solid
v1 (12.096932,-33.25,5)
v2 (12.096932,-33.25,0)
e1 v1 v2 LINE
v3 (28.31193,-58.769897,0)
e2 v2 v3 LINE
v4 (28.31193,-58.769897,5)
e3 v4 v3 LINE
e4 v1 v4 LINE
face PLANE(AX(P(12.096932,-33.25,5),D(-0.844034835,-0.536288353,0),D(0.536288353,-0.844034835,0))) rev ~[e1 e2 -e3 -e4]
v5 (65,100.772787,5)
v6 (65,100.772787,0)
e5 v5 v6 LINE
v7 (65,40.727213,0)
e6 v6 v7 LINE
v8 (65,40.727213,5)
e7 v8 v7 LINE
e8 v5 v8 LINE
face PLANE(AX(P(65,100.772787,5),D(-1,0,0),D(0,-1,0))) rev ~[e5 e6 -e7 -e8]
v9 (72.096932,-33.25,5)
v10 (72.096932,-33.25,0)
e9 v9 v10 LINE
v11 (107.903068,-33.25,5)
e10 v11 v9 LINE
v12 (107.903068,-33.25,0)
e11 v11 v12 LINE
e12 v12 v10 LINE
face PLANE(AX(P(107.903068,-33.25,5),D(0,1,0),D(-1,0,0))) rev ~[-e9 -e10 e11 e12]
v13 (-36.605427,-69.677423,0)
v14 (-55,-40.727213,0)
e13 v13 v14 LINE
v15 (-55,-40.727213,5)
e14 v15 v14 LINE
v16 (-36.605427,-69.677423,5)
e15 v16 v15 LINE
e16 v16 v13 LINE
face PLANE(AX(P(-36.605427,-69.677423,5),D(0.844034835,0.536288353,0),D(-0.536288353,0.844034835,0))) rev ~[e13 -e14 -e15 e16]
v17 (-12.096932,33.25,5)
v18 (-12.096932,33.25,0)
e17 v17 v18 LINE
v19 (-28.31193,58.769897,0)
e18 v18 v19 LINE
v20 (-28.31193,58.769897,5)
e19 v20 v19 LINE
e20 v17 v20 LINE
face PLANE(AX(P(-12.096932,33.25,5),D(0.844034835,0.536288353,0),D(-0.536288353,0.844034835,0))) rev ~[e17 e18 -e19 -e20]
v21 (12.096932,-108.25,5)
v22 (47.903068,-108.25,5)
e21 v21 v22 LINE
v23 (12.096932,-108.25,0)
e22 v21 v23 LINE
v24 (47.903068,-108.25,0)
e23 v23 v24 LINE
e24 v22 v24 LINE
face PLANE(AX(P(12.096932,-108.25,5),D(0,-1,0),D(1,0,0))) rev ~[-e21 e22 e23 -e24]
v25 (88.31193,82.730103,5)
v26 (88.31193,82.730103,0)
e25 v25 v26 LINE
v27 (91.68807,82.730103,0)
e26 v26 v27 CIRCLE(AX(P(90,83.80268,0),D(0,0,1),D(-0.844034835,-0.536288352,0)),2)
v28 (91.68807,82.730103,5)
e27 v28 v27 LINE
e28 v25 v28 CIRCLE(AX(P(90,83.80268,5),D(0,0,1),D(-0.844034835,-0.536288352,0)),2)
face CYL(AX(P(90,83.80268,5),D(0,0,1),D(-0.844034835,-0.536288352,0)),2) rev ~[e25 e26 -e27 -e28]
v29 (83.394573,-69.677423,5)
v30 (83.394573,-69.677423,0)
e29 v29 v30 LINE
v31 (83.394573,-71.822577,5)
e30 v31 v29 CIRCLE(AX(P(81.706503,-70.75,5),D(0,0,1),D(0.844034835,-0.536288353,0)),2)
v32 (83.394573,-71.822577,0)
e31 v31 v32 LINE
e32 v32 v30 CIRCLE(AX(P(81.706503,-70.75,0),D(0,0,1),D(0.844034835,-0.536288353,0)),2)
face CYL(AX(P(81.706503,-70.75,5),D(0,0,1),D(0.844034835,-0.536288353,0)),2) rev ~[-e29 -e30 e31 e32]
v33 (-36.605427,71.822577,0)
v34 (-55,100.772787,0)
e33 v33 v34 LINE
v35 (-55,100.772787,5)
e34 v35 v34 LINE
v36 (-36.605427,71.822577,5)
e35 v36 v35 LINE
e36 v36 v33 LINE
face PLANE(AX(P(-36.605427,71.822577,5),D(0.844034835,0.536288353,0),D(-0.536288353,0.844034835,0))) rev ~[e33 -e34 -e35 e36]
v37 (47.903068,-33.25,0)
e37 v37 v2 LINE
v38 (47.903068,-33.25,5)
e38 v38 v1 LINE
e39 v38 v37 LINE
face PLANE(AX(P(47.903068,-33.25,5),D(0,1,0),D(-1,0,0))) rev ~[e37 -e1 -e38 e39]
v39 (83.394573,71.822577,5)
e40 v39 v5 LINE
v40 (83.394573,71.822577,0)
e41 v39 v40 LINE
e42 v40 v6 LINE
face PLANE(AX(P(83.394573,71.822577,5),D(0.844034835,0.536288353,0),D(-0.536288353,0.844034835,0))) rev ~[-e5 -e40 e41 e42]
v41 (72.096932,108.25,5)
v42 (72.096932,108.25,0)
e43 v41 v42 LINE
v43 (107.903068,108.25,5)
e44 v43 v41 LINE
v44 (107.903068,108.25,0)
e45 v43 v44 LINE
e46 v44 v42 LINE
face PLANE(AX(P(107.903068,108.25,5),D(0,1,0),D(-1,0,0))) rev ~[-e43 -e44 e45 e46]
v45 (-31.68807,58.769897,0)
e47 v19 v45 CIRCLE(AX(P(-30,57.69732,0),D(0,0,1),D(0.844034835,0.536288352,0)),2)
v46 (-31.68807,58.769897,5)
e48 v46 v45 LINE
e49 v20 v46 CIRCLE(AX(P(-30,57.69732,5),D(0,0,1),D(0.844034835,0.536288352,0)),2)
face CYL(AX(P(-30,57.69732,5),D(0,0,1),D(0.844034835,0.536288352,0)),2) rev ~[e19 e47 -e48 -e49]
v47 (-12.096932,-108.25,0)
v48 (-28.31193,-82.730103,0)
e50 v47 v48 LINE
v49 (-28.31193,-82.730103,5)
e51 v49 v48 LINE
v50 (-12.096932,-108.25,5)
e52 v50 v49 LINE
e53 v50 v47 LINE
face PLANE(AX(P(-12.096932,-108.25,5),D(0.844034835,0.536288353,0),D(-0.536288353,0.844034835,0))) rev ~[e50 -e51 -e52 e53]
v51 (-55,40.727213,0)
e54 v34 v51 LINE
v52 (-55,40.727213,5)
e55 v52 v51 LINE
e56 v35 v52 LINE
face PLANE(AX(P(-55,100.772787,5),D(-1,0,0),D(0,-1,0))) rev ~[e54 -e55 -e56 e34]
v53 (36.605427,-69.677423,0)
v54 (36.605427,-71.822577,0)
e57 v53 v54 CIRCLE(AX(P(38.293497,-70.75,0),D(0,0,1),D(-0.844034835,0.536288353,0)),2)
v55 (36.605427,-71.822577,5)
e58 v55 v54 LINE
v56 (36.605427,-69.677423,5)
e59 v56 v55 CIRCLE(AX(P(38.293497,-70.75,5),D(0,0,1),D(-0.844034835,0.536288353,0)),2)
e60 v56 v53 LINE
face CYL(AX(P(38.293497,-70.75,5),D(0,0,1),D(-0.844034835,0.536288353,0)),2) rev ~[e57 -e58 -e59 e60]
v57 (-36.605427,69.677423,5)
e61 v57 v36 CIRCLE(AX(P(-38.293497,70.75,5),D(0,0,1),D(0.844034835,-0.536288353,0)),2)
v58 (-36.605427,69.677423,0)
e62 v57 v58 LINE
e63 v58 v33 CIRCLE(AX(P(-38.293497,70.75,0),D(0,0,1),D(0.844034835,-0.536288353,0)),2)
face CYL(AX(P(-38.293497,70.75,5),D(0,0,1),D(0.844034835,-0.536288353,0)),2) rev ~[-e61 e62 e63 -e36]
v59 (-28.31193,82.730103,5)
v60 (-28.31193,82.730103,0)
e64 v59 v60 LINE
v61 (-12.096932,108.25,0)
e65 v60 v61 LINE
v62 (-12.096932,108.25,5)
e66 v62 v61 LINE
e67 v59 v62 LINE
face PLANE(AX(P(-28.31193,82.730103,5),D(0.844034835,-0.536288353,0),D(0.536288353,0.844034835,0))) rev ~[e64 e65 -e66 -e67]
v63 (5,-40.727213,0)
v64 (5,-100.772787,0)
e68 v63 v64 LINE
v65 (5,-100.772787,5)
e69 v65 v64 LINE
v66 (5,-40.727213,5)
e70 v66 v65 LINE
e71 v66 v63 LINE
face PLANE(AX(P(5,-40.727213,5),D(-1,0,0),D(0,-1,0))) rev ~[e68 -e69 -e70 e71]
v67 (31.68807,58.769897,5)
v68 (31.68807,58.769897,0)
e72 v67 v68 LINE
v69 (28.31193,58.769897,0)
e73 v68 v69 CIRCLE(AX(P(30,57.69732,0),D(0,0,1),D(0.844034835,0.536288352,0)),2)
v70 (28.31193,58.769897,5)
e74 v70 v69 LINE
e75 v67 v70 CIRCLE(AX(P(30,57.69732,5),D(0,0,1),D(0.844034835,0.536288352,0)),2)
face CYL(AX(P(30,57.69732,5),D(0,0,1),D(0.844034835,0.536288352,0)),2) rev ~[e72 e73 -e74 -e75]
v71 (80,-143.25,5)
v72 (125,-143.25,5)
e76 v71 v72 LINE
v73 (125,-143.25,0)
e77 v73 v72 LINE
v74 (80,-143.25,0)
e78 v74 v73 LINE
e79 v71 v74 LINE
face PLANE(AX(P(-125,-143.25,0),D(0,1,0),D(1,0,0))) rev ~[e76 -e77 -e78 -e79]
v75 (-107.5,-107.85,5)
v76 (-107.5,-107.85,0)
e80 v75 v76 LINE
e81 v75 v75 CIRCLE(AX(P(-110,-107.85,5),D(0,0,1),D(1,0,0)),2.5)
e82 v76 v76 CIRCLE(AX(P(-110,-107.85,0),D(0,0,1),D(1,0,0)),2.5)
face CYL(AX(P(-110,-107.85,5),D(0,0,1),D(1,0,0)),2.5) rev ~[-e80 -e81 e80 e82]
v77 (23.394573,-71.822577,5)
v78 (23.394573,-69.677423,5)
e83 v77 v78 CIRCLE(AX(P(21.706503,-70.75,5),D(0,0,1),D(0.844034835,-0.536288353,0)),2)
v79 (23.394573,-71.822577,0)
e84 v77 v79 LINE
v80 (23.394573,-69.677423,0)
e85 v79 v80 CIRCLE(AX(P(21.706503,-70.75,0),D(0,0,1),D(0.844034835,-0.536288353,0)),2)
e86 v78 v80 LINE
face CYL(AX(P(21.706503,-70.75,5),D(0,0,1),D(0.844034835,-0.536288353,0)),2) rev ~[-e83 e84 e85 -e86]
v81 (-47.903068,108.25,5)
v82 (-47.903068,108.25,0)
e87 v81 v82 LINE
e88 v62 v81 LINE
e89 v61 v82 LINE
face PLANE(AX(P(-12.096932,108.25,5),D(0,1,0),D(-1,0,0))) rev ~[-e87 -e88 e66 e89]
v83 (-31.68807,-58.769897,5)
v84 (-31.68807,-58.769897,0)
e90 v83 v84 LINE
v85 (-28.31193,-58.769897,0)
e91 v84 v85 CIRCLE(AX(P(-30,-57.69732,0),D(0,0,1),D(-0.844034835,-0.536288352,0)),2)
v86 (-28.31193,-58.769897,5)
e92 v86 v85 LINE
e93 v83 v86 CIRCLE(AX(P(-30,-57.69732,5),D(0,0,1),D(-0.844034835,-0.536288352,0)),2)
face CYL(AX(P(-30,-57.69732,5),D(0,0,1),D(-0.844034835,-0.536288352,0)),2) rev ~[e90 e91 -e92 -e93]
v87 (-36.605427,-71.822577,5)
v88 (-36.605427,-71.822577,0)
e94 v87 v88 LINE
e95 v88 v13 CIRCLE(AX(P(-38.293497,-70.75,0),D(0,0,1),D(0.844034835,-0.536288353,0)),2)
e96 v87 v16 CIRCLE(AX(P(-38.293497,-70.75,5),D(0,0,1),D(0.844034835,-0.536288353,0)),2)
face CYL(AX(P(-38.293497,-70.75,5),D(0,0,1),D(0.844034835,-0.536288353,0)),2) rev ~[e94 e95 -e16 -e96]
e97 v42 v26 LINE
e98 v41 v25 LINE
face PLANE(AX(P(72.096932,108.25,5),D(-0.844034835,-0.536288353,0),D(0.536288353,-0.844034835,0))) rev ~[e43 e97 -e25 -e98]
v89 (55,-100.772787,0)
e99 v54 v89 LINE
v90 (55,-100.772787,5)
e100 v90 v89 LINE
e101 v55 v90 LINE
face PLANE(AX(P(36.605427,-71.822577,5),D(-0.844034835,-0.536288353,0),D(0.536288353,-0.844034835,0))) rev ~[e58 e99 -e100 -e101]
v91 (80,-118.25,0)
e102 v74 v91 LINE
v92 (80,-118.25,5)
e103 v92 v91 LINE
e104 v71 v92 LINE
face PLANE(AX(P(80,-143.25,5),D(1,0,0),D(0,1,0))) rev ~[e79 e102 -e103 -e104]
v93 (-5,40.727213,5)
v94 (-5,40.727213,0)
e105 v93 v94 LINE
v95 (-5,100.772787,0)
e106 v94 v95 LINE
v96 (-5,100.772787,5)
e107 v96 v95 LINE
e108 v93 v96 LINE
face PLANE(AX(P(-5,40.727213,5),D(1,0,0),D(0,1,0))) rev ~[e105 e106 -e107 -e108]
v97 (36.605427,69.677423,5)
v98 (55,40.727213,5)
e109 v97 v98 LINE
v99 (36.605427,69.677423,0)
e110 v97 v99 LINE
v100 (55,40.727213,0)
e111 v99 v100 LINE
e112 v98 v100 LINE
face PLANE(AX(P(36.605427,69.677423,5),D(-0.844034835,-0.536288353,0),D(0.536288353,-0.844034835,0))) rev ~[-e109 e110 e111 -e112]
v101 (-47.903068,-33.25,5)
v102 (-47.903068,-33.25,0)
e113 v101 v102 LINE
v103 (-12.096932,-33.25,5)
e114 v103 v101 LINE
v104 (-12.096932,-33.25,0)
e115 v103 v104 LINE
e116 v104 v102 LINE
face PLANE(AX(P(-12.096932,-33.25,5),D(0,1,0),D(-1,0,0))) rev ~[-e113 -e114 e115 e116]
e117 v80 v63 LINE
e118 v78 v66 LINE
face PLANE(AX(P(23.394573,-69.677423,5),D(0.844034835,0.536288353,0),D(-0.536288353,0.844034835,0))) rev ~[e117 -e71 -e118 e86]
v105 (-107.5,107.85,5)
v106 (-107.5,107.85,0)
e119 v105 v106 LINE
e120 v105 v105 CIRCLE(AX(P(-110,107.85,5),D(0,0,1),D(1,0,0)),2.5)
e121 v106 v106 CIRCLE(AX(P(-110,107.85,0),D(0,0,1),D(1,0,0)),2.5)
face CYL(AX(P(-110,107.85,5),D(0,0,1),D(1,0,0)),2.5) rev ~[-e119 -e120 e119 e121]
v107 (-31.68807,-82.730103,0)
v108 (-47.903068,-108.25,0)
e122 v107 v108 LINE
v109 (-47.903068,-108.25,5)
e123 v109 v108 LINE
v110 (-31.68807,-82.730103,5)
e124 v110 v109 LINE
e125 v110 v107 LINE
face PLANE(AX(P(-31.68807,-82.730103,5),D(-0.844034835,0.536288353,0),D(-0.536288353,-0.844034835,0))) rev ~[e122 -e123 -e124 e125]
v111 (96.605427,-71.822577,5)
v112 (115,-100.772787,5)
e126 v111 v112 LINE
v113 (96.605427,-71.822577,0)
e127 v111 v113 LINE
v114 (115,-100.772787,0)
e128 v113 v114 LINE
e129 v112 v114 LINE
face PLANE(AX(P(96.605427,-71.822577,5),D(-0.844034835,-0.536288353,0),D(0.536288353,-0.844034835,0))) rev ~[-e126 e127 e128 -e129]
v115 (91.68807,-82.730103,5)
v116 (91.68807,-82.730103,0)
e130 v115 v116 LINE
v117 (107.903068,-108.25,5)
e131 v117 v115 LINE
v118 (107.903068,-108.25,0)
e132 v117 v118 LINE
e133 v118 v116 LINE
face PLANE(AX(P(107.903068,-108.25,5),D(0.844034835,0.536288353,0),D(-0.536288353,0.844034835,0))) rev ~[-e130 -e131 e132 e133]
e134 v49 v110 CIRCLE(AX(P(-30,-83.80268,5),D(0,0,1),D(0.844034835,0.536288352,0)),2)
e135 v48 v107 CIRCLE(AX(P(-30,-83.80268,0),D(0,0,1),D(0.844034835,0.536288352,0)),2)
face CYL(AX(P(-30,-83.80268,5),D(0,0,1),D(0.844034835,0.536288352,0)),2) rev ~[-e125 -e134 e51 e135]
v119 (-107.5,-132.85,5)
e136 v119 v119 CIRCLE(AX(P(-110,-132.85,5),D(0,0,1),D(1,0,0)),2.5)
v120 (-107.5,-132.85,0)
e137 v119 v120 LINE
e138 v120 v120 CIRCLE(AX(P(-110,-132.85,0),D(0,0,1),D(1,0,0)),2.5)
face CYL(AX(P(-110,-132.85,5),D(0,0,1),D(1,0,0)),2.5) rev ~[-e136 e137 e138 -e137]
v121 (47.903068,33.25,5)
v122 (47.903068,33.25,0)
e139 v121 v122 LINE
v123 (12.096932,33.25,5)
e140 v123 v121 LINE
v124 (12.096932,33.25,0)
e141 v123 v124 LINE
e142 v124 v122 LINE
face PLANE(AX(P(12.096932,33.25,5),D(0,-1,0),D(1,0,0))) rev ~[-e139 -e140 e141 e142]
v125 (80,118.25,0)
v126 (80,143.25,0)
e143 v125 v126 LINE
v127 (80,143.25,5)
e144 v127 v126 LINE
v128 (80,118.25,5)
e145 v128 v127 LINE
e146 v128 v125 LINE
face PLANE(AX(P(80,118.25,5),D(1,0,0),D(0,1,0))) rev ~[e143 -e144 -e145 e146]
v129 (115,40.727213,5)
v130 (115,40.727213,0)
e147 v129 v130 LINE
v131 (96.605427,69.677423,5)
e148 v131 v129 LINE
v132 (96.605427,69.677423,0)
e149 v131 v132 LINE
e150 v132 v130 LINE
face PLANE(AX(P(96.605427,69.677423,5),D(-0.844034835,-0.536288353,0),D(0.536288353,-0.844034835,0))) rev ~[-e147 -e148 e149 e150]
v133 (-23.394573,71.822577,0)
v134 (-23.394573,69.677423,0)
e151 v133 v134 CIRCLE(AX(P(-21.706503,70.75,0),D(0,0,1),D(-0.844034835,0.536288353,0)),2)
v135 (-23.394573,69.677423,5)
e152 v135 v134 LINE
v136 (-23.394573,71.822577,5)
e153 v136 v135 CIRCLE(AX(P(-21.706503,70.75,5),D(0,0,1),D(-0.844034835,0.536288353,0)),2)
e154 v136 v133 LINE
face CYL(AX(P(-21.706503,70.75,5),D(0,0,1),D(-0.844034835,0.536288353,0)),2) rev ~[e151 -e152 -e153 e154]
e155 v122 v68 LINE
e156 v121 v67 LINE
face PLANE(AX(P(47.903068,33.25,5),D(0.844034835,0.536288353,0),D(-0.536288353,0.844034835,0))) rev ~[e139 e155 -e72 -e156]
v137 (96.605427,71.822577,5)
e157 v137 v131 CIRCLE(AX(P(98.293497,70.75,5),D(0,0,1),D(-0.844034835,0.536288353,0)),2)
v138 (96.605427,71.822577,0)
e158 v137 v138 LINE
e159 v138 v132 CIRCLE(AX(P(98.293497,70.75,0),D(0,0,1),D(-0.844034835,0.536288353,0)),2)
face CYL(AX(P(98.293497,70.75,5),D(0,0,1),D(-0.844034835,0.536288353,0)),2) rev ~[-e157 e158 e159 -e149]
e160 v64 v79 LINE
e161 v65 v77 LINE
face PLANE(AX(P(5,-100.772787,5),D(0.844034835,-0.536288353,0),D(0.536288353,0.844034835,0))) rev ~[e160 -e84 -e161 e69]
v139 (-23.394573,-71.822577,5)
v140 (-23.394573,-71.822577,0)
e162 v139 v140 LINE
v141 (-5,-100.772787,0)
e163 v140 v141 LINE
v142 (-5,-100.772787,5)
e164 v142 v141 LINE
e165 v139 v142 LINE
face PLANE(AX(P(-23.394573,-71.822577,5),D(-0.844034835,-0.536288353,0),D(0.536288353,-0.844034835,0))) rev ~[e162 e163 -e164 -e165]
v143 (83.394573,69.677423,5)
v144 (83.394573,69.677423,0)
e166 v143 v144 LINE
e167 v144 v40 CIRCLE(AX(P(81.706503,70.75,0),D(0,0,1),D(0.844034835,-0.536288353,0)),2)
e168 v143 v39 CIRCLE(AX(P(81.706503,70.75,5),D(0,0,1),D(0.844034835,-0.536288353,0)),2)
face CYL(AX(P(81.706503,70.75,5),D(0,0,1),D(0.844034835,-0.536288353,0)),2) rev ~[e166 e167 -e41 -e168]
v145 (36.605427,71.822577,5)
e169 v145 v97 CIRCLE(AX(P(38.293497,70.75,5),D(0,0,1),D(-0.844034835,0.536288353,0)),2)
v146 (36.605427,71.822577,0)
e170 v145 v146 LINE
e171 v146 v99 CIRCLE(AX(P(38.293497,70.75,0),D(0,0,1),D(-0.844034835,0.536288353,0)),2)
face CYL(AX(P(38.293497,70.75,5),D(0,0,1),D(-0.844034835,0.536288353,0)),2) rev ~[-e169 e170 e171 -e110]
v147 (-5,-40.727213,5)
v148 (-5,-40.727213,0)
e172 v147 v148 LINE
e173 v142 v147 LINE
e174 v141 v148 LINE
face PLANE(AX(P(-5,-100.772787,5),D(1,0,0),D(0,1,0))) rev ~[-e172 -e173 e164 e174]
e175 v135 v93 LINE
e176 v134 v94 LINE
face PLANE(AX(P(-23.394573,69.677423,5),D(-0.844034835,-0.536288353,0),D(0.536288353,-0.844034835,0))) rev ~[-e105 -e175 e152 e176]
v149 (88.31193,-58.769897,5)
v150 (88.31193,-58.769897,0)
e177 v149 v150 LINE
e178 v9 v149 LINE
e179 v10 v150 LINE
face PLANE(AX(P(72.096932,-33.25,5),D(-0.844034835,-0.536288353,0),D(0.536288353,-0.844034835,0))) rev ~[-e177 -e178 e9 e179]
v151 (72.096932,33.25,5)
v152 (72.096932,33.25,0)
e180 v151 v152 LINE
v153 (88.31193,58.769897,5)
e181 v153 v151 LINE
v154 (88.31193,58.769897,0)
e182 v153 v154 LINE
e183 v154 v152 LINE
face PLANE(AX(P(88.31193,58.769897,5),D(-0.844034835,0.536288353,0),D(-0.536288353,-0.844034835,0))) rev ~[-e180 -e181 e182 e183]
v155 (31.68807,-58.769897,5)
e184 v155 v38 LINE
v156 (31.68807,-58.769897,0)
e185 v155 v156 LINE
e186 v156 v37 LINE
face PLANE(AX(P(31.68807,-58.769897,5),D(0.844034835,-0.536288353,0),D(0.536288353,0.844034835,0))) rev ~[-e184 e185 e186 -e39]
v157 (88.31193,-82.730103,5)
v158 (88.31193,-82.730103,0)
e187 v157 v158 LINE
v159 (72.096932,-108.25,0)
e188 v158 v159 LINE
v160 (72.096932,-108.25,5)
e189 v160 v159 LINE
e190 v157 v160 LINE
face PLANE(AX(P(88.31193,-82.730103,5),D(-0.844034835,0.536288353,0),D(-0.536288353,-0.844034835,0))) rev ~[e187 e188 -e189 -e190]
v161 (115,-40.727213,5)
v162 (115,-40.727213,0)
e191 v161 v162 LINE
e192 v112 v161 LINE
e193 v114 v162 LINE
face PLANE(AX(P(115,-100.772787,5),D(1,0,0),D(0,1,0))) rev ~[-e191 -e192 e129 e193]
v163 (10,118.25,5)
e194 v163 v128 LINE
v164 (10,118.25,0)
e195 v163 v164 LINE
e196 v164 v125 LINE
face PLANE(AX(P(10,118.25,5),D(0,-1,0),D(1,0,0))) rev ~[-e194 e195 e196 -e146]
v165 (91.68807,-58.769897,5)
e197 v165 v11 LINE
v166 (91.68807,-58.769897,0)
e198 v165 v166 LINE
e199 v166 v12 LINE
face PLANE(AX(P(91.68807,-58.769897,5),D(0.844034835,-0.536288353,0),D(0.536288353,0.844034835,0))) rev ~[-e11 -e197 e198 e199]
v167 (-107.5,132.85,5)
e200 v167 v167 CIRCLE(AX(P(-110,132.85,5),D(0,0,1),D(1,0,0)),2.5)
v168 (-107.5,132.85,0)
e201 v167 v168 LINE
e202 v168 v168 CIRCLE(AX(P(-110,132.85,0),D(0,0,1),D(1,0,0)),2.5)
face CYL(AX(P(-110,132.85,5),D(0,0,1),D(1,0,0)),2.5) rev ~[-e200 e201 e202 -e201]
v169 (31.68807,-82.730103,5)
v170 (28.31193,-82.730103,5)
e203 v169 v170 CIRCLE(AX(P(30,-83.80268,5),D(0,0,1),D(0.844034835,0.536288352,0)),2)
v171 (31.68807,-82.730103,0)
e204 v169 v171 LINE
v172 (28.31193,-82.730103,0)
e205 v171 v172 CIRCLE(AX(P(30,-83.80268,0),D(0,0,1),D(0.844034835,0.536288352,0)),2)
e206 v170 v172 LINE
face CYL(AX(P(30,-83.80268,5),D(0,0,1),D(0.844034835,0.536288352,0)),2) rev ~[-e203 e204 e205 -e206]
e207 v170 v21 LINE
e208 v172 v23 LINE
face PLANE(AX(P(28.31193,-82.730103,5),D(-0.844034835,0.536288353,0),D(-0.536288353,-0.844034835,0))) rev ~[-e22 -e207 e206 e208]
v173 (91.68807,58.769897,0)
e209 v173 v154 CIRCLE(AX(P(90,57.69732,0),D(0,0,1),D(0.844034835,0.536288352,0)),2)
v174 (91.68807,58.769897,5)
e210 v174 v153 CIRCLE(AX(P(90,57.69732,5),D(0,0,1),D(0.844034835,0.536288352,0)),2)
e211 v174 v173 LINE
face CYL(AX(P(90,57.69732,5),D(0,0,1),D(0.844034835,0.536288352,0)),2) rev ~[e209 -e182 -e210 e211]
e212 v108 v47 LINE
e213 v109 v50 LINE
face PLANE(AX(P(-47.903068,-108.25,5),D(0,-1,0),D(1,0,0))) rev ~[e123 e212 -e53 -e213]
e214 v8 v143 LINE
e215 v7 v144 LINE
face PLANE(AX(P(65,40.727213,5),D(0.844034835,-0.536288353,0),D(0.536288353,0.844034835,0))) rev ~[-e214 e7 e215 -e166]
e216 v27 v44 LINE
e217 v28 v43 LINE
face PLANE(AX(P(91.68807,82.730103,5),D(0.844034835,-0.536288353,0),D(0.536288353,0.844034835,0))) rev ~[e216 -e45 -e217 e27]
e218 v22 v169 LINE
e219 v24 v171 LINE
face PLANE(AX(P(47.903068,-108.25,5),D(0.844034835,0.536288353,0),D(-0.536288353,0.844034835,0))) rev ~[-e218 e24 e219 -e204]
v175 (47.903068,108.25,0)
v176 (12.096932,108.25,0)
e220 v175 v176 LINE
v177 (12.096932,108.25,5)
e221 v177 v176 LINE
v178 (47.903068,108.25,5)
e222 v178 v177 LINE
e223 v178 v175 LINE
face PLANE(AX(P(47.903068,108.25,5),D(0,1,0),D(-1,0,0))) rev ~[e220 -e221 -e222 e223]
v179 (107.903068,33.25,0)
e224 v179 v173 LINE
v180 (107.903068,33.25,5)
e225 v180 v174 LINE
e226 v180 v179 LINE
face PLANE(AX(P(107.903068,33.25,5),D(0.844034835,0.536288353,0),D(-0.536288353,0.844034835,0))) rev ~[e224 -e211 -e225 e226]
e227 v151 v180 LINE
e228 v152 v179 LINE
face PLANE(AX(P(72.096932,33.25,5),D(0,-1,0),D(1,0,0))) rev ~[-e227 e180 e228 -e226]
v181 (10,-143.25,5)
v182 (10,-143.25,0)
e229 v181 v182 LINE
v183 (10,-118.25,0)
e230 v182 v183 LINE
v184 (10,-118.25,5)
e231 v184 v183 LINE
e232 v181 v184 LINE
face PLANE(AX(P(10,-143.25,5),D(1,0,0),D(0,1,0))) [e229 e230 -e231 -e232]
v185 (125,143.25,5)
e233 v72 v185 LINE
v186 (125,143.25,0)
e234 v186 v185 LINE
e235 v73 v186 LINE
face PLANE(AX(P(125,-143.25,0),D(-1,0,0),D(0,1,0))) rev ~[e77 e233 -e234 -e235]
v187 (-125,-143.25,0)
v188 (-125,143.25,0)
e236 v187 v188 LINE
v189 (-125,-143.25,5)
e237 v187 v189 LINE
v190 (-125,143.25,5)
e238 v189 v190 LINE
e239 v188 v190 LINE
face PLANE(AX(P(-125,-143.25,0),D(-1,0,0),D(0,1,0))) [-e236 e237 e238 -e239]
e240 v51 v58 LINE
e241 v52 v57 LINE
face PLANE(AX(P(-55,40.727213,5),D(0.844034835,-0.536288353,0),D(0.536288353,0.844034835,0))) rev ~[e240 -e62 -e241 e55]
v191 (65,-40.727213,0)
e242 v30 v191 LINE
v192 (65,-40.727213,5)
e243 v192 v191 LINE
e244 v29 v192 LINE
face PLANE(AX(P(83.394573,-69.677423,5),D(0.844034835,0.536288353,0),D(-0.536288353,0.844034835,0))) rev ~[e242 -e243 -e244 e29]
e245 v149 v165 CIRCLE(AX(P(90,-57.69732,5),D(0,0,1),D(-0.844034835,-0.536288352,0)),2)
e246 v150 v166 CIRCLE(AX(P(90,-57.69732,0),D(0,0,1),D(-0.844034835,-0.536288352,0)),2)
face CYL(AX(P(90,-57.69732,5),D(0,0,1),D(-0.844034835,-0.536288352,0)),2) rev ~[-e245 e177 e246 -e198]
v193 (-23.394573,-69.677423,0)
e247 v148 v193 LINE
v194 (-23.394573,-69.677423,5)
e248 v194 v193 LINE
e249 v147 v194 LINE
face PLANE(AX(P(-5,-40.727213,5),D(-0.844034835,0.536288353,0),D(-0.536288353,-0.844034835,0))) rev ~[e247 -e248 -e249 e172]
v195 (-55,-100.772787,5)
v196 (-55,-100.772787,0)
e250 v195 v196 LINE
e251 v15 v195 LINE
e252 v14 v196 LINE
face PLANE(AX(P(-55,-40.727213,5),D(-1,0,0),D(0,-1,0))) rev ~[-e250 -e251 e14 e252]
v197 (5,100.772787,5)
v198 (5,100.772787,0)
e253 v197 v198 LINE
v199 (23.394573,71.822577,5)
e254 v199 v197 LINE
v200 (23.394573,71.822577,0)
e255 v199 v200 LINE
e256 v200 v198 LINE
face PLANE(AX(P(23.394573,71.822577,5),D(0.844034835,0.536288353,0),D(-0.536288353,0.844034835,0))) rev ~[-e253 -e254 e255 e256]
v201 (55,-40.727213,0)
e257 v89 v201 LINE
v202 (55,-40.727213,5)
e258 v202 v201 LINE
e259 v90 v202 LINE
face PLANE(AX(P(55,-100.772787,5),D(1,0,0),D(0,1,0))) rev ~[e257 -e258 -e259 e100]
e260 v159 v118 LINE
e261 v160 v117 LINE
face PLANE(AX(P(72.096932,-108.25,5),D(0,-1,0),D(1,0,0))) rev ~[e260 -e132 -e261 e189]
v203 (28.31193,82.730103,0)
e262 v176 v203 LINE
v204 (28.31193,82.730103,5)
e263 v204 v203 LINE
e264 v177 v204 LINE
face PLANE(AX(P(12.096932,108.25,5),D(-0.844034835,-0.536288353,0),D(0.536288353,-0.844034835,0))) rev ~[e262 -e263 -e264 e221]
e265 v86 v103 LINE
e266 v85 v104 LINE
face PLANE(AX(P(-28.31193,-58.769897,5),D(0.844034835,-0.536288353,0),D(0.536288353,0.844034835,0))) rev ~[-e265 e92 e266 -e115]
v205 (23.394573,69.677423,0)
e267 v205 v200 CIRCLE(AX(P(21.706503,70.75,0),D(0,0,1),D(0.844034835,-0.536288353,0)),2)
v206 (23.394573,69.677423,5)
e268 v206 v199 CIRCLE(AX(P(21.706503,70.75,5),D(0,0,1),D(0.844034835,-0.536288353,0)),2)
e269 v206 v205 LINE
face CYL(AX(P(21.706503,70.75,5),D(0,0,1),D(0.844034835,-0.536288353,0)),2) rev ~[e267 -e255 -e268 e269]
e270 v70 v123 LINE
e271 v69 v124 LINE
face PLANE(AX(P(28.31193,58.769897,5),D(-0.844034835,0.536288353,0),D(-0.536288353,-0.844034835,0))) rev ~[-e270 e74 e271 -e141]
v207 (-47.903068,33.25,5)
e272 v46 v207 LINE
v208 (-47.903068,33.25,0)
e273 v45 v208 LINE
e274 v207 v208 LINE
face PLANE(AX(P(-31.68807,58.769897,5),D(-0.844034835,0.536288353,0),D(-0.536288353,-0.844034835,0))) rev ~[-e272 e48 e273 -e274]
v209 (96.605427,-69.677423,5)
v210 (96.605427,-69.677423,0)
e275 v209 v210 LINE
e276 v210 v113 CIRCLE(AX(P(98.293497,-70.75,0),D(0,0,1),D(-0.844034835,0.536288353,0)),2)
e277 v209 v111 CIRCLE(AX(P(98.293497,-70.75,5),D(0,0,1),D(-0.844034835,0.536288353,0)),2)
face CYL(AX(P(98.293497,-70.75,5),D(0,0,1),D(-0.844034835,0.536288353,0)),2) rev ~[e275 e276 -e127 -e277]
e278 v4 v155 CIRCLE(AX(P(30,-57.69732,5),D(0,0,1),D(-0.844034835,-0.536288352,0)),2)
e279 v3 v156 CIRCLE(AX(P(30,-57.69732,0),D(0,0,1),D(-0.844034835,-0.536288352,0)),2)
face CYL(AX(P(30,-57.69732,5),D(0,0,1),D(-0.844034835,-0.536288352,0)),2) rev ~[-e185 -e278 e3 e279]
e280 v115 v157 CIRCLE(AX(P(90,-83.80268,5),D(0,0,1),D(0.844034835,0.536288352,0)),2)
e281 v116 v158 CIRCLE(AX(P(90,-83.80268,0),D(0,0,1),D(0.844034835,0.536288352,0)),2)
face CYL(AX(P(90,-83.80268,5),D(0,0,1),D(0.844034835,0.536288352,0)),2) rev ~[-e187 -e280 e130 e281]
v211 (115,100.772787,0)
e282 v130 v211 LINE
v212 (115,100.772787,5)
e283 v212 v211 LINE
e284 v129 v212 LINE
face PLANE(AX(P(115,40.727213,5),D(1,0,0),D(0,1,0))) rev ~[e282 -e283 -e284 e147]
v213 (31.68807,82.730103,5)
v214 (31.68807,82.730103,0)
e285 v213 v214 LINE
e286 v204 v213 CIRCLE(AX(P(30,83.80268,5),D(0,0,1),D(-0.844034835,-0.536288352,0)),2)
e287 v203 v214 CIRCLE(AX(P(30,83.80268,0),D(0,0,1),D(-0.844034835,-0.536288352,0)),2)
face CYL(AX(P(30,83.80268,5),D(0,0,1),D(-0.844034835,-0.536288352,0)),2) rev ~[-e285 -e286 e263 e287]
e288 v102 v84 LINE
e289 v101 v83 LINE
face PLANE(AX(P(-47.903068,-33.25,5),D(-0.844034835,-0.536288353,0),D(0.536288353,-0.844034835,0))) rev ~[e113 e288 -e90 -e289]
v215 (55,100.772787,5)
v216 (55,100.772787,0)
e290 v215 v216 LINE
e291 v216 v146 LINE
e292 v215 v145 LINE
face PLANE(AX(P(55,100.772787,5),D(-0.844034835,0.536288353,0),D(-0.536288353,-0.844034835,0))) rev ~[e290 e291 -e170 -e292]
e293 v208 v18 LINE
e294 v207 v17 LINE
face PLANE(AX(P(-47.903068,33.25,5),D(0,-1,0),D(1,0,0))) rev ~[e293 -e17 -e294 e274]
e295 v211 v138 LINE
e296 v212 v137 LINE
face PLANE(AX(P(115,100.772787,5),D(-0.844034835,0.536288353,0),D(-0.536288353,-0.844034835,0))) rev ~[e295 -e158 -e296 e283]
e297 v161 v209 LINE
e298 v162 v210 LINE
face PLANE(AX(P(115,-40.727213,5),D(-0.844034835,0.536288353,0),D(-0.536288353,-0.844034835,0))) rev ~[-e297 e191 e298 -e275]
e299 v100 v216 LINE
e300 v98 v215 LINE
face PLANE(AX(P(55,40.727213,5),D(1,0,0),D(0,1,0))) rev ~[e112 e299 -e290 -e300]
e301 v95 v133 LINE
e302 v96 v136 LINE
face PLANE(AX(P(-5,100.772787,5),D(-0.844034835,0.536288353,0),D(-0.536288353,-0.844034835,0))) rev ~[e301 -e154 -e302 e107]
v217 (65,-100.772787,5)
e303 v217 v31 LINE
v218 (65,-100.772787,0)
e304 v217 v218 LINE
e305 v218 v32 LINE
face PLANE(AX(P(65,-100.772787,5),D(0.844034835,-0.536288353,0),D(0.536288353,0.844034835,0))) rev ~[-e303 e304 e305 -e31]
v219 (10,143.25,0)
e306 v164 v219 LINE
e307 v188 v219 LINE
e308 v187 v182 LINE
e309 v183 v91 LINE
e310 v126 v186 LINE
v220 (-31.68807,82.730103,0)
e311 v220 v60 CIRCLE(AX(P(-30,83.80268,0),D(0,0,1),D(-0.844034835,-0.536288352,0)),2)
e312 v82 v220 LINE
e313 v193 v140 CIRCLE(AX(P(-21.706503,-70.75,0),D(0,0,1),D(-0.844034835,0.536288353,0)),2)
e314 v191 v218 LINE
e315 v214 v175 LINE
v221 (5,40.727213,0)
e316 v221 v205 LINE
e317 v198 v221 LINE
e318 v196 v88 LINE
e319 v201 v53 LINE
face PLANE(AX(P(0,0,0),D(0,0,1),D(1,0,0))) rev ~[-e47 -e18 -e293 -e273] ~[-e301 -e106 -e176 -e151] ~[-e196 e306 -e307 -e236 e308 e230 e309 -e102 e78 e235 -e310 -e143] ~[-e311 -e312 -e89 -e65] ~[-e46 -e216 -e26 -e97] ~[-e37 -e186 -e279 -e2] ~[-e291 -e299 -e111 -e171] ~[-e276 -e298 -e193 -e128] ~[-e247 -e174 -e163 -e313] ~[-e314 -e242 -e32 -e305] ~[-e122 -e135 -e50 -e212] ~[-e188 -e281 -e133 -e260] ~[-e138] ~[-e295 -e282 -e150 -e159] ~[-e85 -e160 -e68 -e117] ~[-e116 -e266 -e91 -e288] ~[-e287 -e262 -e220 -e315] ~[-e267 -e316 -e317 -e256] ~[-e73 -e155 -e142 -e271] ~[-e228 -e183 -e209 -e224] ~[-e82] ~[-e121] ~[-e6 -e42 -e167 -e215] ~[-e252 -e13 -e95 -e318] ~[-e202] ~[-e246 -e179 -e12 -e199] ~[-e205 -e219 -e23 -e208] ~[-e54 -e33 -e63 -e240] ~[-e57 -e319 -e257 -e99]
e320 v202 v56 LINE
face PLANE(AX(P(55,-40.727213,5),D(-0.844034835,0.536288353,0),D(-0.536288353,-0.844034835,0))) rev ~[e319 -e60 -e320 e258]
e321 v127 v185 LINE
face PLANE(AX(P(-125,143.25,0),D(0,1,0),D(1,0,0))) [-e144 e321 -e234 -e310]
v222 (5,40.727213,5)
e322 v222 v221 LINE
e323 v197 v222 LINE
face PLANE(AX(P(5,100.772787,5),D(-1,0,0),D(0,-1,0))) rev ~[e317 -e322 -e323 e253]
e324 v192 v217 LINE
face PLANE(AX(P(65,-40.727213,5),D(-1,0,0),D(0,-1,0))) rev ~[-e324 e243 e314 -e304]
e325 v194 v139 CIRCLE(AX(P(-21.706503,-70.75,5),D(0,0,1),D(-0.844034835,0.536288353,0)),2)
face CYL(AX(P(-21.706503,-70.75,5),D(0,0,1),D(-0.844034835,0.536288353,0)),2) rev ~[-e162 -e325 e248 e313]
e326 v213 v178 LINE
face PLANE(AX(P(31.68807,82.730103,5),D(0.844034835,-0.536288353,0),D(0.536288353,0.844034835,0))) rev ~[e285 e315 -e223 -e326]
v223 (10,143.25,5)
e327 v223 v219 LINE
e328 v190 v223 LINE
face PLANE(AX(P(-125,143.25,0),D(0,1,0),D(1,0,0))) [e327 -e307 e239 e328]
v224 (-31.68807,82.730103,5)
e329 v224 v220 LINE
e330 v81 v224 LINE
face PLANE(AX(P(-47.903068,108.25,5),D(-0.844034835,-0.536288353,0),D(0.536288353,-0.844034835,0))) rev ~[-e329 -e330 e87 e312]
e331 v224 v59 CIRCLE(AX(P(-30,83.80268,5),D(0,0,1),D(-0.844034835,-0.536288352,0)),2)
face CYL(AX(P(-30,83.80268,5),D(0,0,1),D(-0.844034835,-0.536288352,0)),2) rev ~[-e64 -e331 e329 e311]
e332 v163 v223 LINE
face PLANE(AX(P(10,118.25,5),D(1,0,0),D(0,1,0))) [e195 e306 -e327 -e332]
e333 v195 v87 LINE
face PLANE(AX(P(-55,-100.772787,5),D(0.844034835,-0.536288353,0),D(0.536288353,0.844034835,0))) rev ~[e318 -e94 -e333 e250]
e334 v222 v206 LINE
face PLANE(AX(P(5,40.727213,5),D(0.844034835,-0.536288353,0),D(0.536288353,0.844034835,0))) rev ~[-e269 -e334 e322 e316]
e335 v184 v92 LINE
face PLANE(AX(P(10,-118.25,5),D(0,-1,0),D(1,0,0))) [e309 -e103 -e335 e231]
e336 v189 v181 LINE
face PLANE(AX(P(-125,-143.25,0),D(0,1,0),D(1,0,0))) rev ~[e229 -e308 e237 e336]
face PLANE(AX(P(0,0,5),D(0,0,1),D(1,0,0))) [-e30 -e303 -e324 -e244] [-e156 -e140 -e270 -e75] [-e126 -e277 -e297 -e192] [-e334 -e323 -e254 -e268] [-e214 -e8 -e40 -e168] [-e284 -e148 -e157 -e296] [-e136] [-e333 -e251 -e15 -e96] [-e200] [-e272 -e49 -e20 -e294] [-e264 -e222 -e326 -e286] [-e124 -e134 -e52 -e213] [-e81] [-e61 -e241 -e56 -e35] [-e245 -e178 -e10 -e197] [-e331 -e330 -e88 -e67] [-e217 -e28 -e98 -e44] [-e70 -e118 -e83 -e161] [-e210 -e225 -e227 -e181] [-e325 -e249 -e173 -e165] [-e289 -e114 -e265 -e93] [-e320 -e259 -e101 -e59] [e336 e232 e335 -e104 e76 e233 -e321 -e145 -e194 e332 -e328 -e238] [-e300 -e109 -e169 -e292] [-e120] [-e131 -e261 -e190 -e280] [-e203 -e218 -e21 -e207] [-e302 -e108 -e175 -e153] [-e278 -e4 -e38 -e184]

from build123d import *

# Parameters (mm, degrees)
SKETCH2_W           = 250
SKETCH2_H           = 286.5
BOSS_EXTRUDE1_DEPTH = 5
SKETCH3_R           = 2.5
SKETCH3_W           = 70
SKETCH3_H           = 25
CUT_EXTRUDE1_DEPTH  = 5


with BuildPart() as part:
    # Sketch2 → Boss-Extrude1 (new body)
    with BuildSketch(Plane.XY):
        Rectangle(SKETCH2_W, SKETCH2_H)
    extrude(amount=BOSS_EXTRUDE1_DEPTH)

    # Sketch3 → Cut-Extrude1 (cut)
    with BuildSketch(Plane.XY.offset(5)):
        with Locations((-110, -132.85)):
            Circle(SKETCH3_R)
        with Locations((-110, -107.85)):
            Circle(SKETCH3_R)
        with Locations((-110, 132.85)):
            Circle(SKETCH3_R)
        with Locations((-110, 107.85)):
            Circle(SKETCH3_R)
        with Locations((45, -130.75)):
            Rectangle(SKETCH3_W, SKETCH3_H)
        with Locations((45, 130.75)):
            Rectangle(SKETCH3_W, SKETCH3_H)
        with BuildLine():
            Line((28.31193033, 58.769897179), (12.096931793, 33.25))
            Line((12.096931793, 33.25), (47.903068207, 33.25))
            Line((47.903068207, 33.25), (31.68806967, 58.769897179))
            ThreePointArc((31.68806967, 58.769897179), (30, 59.697320474), (28.31193033, 58.769897179))
        make_face()
        with BuildLine():
            Line((23.394573112, 71.822576705), (5, 100.772786809))
            Line((5, 100.772786809), (5, 40.727213191))
            Line((5, 40.727213191), (23.394573112, 69.677423295))
            ThreePointArc((23.394573112, 69.677423295), (23.706503442, 70.75), (23.394573112, 71.822576705))
        make_face()
        with BuildLine():
            Line((47.903068207, 108.25), (12.096931793, 108.25))
            Line((12.096931793, 108.25), (28.31193033, 82.730102821))
            ThreePointArc((28.31193033, 82.730102821), (30, 81.802679526), (31.68806967, 82.730102821))
            Line((31.68806967, 82.730102821), (47.903068207, 108.25))
        make_face()
        with BuildLine():
            Line((-12.096931793, 108.25), (-47.903068207, 108.25))
            Line((-47.903068207, 108.25), (-31.68806967, 82.730102821))
            ThreePointArc((-31.68806967, 82.730102821), (-30, 81.802679526), (-28.31193033, 82.730102821))
            Line((-28.31193033, 82.730102821), (-12.096931793, 108.25))
        make_face()
        with BuildLine():
            Line((-5, 40.727213191), (-5, 100.772786809))
            Line((-5, 100.772786809), (-23.394573112, 71.822576705))
            ThreePointArc((-23.394573112, 71.822576705), (-23.706503442, 70.75), (-23.394573112, 69.677423295))
            Line((-23.394573112, 69.677423295), (-5, 40.727213191))
        make_face()
        with BuildLine():
            Line((-36.605426888, 71.822576705), (-55, 100.772786809))
            Line((-55, 100.772786809), (-55, 40.727213191))
            Line((-55, 40.727213191), (-36.605426888, 69.677423295))
            ThreePointArc((-36.605426888, 69.677423295), (-36.293496558, 70.75), (-36.605426888, 71.822576705))
        make_face()
        with BuildLine():
            Line((-31.68806967, 58.769897179), (-47.903068207, 33.25))
            Line((-47.903068207, 33.25), (-12.096931793, 33.25))
            Line((-12.096931793, 33.25), (-28.31193033, 58.769897179))
            ThreePointArc((-28.31193033, 58.769897179), (-30, 59.697320474), (-31.68806967, 58.769897179))
        make_face()
        with BuildLine():
            Line((55, 40.727213191), (55, 100.772786809))
            Line((55, 100.772786809), (36.605426888, 71.822576705))
            ThreePointArc((36.605426888, 71.822576705), (36.293496558, 70.75), (36.605426888, 69.677423295))
            Line((36.605426888, 69.677423295), (55, 40.727213191))
        make_face()
        with BuildLine():
            Line((-12.096931793, -33.25), (-47.903068207, -33.25))
            Line((-47.903068207, -33.25), (-31.68806967, -58.769897179))
            ThreePointArc((-31.68806967, -58.769897179), (-30, -59.697320474), (-28.31193033, -58.769897179))
            Line((-28.31193033, -58.769897179), (-12.096931793, -33.25))
        make_face()
        with BuildLine():
            Line((-36.605426888, -69.677423295), (-55, -40.727213191))
            Line((-55, -40.727213191), (-55, -100.772786809))
            Line((-55, -100.772786809), (-36.605426888, -71.822576705))
            ThreePointArc((-36.605426888, -71.822576705), (-36.293496558, -70.75), (-36.605426888, -69.677423295))
        make_face()
        with BuildLine():
            Line((-31.68806967, -82.730102821), (-47.903068207, -108.25))
            Line((-47.903068207, -108.25), (-12.096931793, -108.25))
            Line((-12.096931793, -108.25), (-28.31193033, -82.730102821))
            ThreePointArc((-28.31193033, -82.730102821), (-30, -81.802679526), (-31.68806967, -82.730102821))
        make_face()
        with BuildLine():
            Line((-5, -100.772786809), (-5, -40.727213191))
            Line((-5, -40.727213191), (-23.394573112, -69.677423295))
            ThreePointArc((-23.394573112, -69.677423295), (-23.706503442, -70.75), (-23.394573112, -71.822576705))
            Line((-23.394573112, -71.822576705), (-5, -100.772786809))
        make_face()
        with BuildLine():
            Line((23.394573112, -69.677423295), (5, -40.727213191))
            Line((5, -40.727213191), (5, -100.772786809))
            Line((5, -100.772786809), (23.394573112, -71.822576705))
            ThreePointArc((23.394573112, -71.822576705), (23.706503442, -70.75), (23.394573112, -69.677423295))
        make_face()
        with BuildLine():
            Line((47.903068207, -33.25), (12.096931793, -33.25))
            Line((12.096931793, -33.25), (28.31193033, -58.769897179))
            ThreePointArc((28.31193033, -58.769897179), (30, -59.697320474), (31.68806967, -58.769897179))
            Line((31.68806967, -58.769897179), (47.903068207, -33.25))
        make_face()
        with BuildLine():
            Line((55, -100.772786809), (55, -40.727213191))
            Line((55, -40.727213191), (36.605426888, -69.677423295))
            ThreePointArc((36.605426888, -69.677423295), (36.293496558, -70.75), (36.605426888, -71.822576705))
            Line((36.605426888, -71.822576705), (55, -100.772786809))
        make_face()
        with BuildLine():
            Line((28.31193033, -82.730102821), (12.096931793, -108.25))
            Line((12.096931793, -108.25), (47.903068207, -108.25))
            Line((47.903068207, -108.25), (31.68806967, -82.730102821))
            ThreePointArc((31.68806967, -82.730102821), (30, -81.802679526), (28.31193033, -82.730102821))
        make_face()
        with BuildLine():
            Line((83.394573112, -69.677423295), (65, -40.727213191))
            Line((65, -40.727213191), (65, -100.772786809))
            Line((65, -100.772786809), (83.394573112, -71.822576705))
            ThreePointArc((83.394573112, -71.822576705), (83.706503442, -70.75), (83.394573112, -69.677423295))
        make_face()
        with BuildLine():
            Line((107.903068207, -33.25), (72.096931793, -33.25))
            Line((72.096931793, -33.25), (88.31193033, -58.769897179))
            ThreePointArc((88.31193033, -58.769897179), (90, -59.697320474), (91.68806967, -58.769897179))
            Line((91.68806967, -58.769897179), (107.903068207, -33.25))
        make_face()
        with BuildLine():
            Line((115, -100.772786809), (115, -40.727213191))
            Line((115, -40.727213191), (96.605426888, -69.677423295))
            ThreePointArc((96.605426888, -69.677423295), (96.293496558, -70.75), (96.605426888, -71.822576705))
            Line((96.605426888, -71.822576705), (115, -100.772786809))
        make_face()
        with BuildLine():
            Line((88.31193033, -82.730102821), (72.096931793, -108.25))
            Line((72.096931793, -108.25), (107.903068207, -108.25))
            Line((107.903068207, -108.25), (91.68806967, -82.730102821))
            ThreePointArc((91.68806967, -82.730102821), (90, -81.802679526), (88.31193033, -82.730102821))
        make_face()
        with BuildLine():
            Line((115, 40.727213191), (115, 100.772786809))
            Line((115, 100.772786809), (96.605426888, 71.822576705))
            ThreePointArc((96.605426888, 71.822576705), (96.293496558, 70.75), (96.605426888, 69.677423295))
            Line((96.605426888, 69.677423295), (115, 40.727213191))
        make_face()
        with BuildLine():
            Line((91.68806967, 82.730102821), (107.903068207, 108.25))
            Line((107.903068207, 108.25), (72.096931793, 108.25))
            Line((72.096931793, 108.25), (88.31193033, 82.730102821))
            ThreePointArc((88.31193033, 82.730102821), (90, 81.802679526), (91.68806967, 82.730102821))
        make_face()
        with BuildLine():
            Line((83.394573112, 71.822576705), (65, 100.772786809))
            Line((65, 100.772786809), (65, 40.727213191))
            Line((65, 40.727213191), (83.394573112, 69.677423295))
            ThreePointArc((83.394573112, 69.677423295), (83.706503442, 70.75), (83.394573112, 71.822576705))
        make_face()
        with BuildLine():
            Line((72.096931793, 33.25), (107.903068207, 33.25))
            Line((107.903068207, 33.25), (91.68806967, 58.769897179))
            ThreePointArc((91.68806967, 58.769897179), (90, 59.697320474), (88.31193033, 58.769897179))
            Line((88.31193033, 58.769897179), (72.096931793, 33.25))
        make_face()
    extrude(amount=-CUT_EXTRUDE1_DEPTH, mode=Mode.SUBTRACT)


solid = part.part
